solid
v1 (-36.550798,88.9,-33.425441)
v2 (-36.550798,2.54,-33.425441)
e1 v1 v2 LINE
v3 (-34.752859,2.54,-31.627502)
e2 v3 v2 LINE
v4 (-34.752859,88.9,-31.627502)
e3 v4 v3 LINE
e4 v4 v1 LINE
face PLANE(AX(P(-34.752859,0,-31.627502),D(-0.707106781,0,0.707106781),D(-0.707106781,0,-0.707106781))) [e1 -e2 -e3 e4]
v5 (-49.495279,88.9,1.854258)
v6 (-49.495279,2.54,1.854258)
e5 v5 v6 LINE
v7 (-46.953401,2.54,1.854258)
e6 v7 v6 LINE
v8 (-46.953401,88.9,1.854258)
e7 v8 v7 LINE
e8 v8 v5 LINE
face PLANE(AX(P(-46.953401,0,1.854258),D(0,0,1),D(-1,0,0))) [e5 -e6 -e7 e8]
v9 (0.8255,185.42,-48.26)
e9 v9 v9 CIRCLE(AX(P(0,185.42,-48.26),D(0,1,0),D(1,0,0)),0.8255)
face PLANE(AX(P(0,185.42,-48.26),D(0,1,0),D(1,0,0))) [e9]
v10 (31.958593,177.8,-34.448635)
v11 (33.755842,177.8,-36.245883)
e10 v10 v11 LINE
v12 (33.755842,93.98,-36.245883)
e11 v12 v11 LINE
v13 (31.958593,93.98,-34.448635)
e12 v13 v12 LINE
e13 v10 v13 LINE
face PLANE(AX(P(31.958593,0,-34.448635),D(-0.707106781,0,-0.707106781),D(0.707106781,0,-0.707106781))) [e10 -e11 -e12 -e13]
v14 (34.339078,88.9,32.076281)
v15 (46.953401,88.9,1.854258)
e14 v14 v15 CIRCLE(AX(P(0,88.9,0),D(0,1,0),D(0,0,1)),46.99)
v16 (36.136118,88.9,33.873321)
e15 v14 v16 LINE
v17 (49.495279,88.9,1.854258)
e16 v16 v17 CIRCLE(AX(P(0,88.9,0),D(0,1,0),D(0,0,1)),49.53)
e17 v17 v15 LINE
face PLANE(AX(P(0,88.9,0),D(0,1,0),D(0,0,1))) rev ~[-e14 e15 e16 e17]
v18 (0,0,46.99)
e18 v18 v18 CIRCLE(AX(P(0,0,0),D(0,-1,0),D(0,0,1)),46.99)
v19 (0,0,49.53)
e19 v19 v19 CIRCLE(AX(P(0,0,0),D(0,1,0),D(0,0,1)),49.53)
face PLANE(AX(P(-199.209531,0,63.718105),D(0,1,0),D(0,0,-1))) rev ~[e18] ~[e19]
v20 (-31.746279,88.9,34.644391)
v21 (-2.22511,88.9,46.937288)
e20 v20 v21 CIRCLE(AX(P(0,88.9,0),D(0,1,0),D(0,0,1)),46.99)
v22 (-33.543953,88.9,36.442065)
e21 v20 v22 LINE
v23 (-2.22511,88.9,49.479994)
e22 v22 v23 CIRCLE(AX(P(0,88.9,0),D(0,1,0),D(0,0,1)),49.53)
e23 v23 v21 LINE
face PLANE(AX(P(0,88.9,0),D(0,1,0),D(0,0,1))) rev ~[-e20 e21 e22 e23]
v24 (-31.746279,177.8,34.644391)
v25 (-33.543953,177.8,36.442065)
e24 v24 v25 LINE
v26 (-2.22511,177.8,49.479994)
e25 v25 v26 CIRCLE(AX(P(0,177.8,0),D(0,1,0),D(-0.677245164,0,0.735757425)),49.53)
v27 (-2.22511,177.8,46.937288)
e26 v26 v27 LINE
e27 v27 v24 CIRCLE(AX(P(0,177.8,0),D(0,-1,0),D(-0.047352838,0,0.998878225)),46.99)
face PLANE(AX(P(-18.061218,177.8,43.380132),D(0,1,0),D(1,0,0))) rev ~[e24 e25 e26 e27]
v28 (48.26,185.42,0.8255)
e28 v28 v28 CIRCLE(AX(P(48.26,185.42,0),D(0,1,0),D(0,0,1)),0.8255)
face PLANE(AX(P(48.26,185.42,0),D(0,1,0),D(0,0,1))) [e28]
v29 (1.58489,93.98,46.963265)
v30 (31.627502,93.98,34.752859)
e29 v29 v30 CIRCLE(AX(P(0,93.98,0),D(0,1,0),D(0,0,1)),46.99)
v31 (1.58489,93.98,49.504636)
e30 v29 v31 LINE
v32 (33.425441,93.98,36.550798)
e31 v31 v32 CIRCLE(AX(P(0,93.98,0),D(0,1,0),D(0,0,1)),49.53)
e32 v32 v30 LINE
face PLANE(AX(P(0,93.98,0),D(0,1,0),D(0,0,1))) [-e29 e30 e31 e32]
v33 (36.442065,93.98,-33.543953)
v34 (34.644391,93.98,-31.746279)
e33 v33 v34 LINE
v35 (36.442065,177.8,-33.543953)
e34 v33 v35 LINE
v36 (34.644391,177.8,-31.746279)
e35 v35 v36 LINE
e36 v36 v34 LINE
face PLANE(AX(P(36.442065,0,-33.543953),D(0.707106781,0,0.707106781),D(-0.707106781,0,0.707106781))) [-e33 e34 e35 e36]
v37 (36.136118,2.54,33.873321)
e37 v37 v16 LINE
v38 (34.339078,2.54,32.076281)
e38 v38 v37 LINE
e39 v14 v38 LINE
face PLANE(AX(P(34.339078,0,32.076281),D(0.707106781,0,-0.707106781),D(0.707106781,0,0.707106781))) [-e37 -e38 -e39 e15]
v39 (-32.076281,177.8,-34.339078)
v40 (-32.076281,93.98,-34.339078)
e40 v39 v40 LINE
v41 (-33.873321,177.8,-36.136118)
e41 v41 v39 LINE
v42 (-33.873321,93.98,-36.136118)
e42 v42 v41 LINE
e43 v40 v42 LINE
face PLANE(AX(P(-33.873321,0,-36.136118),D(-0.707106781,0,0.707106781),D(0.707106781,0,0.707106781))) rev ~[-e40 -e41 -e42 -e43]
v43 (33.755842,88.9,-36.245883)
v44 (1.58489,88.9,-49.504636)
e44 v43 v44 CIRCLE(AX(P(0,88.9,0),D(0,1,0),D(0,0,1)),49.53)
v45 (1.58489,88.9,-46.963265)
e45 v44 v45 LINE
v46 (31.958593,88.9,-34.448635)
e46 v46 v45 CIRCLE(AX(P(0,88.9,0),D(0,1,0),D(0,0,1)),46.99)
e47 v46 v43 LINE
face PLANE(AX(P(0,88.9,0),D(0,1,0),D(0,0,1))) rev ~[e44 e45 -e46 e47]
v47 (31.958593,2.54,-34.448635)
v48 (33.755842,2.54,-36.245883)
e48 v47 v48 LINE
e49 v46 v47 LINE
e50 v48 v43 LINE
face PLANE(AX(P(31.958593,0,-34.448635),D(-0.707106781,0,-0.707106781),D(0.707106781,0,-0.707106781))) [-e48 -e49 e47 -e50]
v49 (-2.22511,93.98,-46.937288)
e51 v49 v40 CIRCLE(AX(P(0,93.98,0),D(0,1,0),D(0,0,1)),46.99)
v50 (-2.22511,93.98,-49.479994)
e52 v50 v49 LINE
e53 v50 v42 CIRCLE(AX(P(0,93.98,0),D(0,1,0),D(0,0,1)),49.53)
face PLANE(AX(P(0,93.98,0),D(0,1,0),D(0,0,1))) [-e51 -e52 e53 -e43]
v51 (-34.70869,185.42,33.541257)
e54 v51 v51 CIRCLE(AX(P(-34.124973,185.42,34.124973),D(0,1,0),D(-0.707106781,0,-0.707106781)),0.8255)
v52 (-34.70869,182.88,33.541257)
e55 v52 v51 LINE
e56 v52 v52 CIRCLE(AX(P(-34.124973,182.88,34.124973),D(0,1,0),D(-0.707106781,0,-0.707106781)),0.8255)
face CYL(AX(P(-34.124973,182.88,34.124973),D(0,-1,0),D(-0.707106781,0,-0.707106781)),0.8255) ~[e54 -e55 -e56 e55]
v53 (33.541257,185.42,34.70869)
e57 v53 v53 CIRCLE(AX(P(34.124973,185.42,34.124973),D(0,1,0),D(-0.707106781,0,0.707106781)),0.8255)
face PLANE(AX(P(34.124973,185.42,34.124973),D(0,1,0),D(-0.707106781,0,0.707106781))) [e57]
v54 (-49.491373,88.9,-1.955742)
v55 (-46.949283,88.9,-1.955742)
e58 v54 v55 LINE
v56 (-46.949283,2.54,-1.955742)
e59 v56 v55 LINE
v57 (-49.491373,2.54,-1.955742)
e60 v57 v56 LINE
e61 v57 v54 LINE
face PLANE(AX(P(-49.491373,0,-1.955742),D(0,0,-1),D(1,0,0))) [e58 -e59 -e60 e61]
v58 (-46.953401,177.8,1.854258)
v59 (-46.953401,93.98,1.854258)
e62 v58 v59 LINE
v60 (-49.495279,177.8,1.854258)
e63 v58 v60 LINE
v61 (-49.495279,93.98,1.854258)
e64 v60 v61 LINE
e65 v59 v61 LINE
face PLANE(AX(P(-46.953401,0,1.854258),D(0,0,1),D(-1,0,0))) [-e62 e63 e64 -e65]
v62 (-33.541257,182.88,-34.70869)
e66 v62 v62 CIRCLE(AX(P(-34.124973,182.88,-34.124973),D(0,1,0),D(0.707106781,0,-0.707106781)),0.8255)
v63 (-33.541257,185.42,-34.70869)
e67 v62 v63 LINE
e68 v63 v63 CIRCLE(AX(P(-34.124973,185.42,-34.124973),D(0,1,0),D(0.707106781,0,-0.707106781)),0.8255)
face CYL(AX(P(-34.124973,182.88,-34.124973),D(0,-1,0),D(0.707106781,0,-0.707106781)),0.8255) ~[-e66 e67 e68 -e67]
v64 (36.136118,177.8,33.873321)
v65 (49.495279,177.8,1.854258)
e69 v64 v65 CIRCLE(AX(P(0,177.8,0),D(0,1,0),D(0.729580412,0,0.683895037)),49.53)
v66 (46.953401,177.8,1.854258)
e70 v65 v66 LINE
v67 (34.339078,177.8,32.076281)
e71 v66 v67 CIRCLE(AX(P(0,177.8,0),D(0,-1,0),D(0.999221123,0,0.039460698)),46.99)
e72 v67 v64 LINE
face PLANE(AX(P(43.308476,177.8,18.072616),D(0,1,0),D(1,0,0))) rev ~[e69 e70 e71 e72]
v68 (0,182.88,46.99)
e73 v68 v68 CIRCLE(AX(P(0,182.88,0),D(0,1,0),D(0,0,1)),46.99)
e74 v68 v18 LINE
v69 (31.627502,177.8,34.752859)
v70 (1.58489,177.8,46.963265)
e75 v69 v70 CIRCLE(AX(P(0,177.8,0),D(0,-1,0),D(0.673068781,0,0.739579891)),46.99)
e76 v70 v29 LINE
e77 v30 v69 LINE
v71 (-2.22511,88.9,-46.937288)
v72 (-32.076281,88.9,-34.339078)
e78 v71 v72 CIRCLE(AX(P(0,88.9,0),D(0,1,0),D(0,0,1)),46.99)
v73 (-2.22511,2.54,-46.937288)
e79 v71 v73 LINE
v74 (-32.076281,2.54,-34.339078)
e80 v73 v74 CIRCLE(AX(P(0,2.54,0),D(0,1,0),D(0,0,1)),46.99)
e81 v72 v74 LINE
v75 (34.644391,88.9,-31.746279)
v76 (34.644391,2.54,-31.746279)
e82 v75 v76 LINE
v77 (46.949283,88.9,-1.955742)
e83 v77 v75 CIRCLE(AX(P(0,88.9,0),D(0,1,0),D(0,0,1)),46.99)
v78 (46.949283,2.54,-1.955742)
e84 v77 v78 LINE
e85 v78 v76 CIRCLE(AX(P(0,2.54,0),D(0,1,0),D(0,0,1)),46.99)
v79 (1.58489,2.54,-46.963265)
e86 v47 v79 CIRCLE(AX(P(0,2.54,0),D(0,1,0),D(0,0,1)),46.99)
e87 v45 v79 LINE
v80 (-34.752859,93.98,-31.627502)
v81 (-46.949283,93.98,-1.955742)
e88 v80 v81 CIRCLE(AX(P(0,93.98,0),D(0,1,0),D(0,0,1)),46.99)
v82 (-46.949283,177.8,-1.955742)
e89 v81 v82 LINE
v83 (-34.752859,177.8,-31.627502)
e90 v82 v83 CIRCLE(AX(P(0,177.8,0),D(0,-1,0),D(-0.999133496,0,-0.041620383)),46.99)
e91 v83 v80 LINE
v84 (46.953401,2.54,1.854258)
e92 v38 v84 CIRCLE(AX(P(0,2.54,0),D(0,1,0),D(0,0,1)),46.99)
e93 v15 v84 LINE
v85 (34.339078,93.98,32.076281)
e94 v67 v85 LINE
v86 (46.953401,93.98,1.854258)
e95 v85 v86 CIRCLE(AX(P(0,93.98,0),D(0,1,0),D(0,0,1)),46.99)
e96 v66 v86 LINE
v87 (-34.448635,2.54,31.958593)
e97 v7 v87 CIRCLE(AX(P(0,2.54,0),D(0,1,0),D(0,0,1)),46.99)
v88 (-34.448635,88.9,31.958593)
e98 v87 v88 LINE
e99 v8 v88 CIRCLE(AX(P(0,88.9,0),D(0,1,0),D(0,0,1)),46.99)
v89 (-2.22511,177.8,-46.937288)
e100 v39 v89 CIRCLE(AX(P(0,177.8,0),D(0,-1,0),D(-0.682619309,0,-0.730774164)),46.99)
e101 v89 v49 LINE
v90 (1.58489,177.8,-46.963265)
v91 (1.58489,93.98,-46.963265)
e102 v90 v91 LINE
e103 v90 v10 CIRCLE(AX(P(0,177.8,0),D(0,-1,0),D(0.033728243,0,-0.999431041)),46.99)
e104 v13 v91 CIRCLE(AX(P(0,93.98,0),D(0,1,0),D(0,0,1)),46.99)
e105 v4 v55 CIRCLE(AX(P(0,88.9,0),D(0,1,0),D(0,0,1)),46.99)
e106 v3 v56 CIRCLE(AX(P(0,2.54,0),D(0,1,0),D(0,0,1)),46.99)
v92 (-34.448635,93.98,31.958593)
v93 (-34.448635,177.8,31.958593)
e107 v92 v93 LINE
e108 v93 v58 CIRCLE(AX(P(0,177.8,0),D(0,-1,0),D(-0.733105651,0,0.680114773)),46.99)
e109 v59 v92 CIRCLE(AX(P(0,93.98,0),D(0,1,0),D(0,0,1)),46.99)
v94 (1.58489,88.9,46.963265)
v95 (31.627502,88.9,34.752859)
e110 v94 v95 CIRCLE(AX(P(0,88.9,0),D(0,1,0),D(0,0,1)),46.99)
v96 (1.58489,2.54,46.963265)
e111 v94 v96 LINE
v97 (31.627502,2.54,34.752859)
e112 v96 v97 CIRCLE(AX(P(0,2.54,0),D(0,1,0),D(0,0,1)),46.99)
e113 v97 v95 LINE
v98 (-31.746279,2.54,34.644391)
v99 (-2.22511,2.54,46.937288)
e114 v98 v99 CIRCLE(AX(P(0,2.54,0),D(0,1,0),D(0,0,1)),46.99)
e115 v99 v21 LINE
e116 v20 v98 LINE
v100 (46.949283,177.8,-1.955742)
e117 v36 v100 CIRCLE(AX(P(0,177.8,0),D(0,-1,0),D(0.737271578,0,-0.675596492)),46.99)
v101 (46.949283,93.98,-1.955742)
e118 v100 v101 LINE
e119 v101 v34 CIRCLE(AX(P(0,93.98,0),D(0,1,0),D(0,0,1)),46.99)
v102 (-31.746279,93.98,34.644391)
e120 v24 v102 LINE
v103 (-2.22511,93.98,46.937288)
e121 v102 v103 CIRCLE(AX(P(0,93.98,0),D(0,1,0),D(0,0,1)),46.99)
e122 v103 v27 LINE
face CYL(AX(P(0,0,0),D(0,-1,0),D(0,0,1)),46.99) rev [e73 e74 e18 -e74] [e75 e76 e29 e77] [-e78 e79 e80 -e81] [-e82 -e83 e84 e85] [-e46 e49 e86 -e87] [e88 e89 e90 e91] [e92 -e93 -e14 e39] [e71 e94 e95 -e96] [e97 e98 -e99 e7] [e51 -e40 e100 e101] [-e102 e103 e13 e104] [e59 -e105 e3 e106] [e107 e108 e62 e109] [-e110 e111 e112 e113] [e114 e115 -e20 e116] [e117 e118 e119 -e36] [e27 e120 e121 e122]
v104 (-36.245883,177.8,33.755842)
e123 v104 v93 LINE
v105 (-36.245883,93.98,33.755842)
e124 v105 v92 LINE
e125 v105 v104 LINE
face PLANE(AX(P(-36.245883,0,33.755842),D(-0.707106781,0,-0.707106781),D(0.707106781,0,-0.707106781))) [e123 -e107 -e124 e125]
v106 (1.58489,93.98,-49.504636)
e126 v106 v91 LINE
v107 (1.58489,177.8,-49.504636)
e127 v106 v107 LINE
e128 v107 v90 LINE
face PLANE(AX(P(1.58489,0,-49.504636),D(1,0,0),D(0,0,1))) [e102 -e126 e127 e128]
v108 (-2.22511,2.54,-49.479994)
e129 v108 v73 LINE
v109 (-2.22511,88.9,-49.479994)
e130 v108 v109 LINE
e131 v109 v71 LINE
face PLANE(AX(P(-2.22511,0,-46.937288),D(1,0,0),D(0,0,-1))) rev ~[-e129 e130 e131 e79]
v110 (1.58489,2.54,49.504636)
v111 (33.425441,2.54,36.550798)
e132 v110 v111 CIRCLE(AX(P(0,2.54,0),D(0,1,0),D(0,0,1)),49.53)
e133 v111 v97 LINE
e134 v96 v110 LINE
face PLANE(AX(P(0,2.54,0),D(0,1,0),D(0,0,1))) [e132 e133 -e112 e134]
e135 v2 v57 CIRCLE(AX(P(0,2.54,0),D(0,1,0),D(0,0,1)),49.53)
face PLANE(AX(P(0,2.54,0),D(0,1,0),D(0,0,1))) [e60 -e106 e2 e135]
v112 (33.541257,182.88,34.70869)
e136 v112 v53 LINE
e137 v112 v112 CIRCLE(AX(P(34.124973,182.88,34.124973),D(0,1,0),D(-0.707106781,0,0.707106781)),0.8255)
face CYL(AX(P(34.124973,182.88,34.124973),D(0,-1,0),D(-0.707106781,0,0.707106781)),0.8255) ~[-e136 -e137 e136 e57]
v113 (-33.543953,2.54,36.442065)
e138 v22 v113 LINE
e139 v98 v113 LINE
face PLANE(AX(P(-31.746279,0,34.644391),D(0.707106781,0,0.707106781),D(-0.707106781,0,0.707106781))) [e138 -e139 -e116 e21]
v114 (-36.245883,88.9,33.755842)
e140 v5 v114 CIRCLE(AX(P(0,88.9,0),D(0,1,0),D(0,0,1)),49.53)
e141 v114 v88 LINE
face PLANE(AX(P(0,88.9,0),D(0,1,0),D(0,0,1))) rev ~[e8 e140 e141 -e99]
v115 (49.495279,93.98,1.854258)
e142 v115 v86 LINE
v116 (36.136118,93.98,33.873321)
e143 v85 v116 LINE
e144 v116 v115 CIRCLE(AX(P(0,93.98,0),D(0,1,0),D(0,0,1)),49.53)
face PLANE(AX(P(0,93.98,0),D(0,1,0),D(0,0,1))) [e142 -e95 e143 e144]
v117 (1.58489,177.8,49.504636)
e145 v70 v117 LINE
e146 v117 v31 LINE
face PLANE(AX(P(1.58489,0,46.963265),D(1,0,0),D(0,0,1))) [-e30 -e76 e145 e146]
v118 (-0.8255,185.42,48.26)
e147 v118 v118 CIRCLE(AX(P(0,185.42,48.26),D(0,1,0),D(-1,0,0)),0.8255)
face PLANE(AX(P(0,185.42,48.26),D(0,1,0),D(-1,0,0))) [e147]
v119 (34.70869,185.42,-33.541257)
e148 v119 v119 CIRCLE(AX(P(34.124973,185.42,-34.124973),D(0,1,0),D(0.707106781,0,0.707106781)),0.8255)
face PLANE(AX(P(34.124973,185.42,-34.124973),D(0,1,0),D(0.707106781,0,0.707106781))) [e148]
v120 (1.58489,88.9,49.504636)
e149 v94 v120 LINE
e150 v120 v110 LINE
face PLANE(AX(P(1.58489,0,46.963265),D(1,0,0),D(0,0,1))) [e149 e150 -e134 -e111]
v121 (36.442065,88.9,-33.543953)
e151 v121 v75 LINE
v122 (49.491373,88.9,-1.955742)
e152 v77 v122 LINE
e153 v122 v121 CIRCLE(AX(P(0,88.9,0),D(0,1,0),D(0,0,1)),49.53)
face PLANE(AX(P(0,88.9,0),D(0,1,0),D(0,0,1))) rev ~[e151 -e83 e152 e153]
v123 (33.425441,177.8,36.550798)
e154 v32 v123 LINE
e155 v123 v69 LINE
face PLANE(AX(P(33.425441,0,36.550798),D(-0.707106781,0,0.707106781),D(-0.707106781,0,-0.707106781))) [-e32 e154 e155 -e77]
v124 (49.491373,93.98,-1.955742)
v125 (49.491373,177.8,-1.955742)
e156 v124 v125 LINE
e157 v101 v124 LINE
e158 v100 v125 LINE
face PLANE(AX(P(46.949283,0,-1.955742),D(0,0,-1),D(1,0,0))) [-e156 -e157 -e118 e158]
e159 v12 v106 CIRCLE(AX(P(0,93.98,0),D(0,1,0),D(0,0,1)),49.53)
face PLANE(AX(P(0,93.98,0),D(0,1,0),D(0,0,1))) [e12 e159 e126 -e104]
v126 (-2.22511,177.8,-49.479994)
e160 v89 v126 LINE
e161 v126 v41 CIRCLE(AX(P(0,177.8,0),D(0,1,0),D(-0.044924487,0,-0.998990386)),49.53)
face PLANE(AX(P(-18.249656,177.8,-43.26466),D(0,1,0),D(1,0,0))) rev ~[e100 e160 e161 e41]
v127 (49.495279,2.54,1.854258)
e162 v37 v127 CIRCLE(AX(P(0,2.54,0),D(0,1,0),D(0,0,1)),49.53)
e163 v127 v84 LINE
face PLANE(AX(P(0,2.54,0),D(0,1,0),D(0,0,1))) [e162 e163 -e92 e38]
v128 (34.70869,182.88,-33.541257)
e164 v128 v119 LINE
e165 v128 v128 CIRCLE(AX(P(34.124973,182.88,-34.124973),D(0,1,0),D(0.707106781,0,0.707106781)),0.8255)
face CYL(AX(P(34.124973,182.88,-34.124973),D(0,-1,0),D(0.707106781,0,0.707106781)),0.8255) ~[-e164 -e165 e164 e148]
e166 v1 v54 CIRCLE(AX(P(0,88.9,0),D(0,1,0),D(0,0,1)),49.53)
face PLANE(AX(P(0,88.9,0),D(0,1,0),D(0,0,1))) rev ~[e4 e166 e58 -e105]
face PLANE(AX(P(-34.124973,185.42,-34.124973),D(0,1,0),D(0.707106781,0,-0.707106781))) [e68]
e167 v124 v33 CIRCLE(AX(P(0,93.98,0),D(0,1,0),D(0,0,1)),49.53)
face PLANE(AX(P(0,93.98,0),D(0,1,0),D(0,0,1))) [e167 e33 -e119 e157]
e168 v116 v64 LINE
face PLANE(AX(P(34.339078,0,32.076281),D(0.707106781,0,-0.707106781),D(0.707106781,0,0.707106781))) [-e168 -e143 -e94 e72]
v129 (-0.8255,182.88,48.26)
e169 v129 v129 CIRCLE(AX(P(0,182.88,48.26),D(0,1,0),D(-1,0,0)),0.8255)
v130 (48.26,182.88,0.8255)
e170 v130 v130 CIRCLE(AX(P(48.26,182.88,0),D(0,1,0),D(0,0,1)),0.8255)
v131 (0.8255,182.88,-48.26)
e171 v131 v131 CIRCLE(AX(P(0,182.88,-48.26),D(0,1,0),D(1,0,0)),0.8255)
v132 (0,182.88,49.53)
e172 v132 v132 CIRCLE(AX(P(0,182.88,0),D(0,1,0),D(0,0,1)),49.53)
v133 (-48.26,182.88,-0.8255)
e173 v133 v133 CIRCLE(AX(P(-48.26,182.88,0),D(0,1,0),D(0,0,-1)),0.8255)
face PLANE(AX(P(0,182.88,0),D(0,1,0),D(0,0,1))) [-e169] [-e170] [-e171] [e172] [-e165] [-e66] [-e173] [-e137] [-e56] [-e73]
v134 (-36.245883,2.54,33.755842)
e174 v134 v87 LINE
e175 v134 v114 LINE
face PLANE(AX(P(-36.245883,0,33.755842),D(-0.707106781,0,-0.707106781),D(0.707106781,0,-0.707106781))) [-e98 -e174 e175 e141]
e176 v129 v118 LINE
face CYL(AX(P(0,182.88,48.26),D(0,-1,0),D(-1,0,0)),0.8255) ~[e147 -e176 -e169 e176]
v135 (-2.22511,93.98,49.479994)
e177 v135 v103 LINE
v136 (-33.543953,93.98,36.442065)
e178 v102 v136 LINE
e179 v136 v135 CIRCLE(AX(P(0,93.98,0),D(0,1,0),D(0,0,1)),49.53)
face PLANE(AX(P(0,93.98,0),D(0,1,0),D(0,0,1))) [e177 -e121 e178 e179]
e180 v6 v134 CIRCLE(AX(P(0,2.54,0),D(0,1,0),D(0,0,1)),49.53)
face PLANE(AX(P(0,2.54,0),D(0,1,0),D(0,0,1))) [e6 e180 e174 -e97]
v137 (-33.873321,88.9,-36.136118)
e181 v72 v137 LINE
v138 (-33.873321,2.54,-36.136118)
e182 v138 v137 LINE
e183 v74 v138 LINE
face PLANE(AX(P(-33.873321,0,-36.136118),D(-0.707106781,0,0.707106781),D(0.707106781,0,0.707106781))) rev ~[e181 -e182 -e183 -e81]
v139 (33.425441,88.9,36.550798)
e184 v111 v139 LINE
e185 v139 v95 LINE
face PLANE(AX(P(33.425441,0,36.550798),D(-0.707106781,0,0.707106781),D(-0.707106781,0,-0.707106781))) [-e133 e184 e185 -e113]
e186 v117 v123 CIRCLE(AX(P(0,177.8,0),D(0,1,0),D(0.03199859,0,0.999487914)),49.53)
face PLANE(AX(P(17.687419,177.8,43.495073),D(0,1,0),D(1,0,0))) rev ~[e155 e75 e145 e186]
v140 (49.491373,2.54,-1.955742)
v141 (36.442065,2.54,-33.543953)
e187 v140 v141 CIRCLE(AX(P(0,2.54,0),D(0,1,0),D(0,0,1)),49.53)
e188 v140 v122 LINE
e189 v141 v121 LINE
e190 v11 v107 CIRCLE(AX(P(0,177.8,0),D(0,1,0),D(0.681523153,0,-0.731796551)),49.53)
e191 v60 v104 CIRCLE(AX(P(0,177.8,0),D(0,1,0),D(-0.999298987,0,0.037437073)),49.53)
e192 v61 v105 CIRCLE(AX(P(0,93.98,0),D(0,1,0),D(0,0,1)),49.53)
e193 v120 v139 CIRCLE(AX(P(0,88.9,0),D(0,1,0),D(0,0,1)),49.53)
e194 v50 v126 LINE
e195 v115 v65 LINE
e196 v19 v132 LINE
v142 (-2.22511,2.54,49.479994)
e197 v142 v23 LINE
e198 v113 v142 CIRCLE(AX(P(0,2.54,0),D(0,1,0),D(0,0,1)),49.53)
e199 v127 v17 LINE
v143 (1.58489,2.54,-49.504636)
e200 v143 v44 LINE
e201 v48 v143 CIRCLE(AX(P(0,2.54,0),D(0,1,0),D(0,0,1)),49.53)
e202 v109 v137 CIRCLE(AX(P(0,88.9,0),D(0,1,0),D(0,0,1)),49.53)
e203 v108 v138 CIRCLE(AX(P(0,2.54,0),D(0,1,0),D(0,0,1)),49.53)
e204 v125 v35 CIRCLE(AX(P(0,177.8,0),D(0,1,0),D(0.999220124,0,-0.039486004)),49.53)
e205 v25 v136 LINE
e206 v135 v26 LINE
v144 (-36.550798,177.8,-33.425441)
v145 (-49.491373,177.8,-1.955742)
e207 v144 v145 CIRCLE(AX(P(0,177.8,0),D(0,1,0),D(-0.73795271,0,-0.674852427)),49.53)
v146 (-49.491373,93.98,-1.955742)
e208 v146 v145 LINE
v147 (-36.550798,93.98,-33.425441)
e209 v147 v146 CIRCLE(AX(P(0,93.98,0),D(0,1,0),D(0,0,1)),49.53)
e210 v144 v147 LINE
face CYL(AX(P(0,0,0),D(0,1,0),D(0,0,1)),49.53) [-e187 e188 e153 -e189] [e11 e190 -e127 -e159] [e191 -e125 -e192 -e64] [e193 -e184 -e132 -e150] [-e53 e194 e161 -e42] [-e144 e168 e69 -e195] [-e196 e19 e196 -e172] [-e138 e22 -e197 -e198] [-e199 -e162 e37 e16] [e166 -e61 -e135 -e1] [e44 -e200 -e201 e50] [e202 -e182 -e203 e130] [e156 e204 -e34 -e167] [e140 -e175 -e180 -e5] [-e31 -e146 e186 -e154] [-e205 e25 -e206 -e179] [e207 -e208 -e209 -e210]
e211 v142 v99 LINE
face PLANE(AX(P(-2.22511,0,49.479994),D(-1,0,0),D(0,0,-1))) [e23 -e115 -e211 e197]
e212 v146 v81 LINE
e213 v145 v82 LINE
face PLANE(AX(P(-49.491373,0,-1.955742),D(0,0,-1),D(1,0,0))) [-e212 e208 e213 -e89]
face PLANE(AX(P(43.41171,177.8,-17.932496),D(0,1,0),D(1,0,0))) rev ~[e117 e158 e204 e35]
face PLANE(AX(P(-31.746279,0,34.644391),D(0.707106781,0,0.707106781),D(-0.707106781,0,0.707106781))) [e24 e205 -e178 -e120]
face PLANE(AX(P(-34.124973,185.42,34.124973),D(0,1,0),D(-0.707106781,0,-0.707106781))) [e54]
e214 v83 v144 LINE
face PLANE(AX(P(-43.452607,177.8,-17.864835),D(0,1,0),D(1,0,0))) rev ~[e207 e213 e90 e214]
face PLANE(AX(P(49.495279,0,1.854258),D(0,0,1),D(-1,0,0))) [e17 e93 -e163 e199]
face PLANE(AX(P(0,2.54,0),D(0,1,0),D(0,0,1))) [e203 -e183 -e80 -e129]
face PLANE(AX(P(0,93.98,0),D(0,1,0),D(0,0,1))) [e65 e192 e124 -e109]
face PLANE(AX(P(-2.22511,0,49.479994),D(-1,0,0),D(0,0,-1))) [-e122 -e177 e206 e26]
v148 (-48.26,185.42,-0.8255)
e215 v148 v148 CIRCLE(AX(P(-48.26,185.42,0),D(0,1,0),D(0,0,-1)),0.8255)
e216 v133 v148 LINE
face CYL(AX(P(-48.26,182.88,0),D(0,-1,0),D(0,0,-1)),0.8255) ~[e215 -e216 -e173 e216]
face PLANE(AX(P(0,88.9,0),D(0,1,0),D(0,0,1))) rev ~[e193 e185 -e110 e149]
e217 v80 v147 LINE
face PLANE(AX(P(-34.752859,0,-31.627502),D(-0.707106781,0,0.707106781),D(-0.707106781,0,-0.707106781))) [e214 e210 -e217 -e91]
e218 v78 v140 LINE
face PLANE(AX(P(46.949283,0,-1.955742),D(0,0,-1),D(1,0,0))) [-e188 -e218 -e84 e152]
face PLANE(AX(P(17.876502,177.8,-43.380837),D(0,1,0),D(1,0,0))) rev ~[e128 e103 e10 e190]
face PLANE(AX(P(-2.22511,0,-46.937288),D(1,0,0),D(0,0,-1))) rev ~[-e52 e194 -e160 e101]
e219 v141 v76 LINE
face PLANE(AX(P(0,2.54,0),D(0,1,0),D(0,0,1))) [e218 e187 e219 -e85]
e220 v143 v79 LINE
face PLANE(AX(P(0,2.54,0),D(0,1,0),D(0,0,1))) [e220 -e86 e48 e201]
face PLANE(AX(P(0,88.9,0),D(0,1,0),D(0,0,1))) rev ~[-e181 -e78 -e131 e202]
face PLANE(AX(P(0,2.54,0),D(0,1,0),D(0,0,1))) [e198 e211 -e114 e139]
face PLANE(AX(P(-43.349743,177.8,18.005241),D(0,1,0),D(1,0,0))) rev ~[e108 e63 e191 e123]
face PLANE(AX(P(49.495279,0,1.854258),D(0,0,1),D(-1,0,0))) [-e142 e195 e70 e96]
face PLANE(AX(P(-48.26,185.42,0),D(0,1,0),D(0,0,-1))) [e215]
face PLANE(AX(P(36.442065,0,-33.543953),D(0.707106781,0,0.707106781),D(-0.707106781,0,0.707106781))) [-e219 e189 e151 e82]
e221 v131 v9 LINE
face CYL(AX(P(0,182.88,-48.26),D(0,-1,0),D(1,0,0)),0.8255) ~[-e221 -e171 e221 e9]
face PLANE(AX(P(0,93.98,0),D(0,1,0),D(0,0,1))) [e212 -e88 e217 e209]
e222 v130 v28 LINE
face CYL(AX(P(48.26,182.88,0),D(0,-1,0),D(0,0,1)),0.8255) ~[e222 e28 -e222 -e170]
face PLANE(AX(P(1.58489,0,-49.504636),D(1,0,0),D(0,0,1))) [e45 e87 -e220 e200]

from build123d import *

# Parameters (mm, degrees)
SKETCH1_R               = 49.53
SKETCH1_R_2             = 46.99
BOSS_EXTRUDE1_DEPTH     = 182.88
CUT_EXTRUDE1_DEPTH      = 177.8
SKETCH3_R               = 49.53
SKETCH3_R_2             = 46.99
BOSS_EXTRUDE2_DEPTH     = 2.54
SKETCH4_R               = 49.53
SKETCH4_R_2             = 46.99
BOSS_EXTRUDE3_DEPTH     = 2.54
BOSS_EXTRUDE4_START     = -5.08
SKETCH5_R               = 49.53
BOSS_EXTRUDE4_DEPTH     = 5.08
SKETCH6_W               = 50.419
SKETCH6_H               = 4.699
BOSS_EXTRUDE5_DEPTH     = 2.54
SKETCH7_R               = 0.8255
BOSS_EXTRUDE6_DEPTH     = 2.54
CIRPATTERN2_COUNT       = 8
CUT_EXTRUDE2_DEPTH      = 199.209531052
CUT_EXTRUDE2_DEPTH_BACK = 199.209531052
SKETCH8_W               = 132.398464635
SKETCH8_H               = 191.049097361


with BuildPart() as part:
    # Sketch1 → Boss-Extrude1 (new, symmetric)
    with BuildSketch(Plane(origin=(0, 0, 0), x_dir=(1, 0, 0), z_dir=(0, 1, 0))):
        with Locations(Location((0, 0, 0), (0, 0, 270))):
            Circle(SKETCH1_R)
        with Locations(Location((0, 0, 0), (0, 0, 270))):
            Circle(SKETCH1_R_2, mode=Mode.SUBTRACT)
    extrude(amount=BOSS_EXTRUDE1_DEPTH, both=True)

    # Sketch2 → Cut-Extrude1 (cut, symmetric)
    with BuildSketch(Plane(origin=(0, 0, 0), x_dir=(1, 0, 0), z_dir=(0, 1, 0))):
        with BuildLine():
            Line((34.339077963, -32.07628134), (36.13611782, -33.873321197))
            ThreePointArc((36.13611782, -33.873321197), (45.710930003, -19.071753413), (49.49527883, -1.854258207))
            Line((49.49527883, -1.854258207), (46.953400585, -1.854258207))
            ThreePointArc((46.953400585, -1.854258207), (43.364264524, -18.099742051), (34.339077963, -32.07628134))
        make_face()
        with BuildLine():
            ThreePointArc((1.584890151, -49.504636381), (18.664975227, -45.878530924), (33.425440685, -36.550797734))
            Line((33.425440685, -36.550797734), (31.627502039, -34.752859088))
            ThreePointArc((31.627502039, -34.752859088), (17.692915235, -43.531837205), (1.584890151, -46.963264614))
            Line((1.584890151, -46.963264614), (1.584890151, -49.504636381))
        make_face()
        with BuildLine():
            ThreePointArc((-33.543952964, -36.442065248), (-19.03558139, -45.726005086), (-2.225109849, -49.479993797))
            Line((-2.225109849, -49.479993797), (-2.225109849, -46.937287801))
            ThreePointArc((-2.225109849, -46.937287801), (-18.063572268, -43.379343666), (-31.746279167, -34.644391451))
            Line((-31.746279167, -34.644391451), (-33.543952964, -36.442065248))
        make_face()
        with BuildLine():
            Line((46.949282998, 1.955741793), (49.491372723, 1.955741793))
            ThreePointArc((49.491372723, 1.955741793), (45.777644234, 18.911059948), (36.442065248, 33.543952964))
            Line((36.442065248, 33.543952964), (34.644391451, 31.746279167))
            ThreePointArc((34.644391451, 31.746279167), (43.430990742, 17.93903964), (46.949282998, 1.955741793))
        make_face()
        with BuildLine():
            ThreePointArc((-49.49527883, -1.854258207), (-45.741824116, -18.997537381), (-36.245883162, -33.755841773))
            Line((-36.245883162, -33.755841773), (-34.448634556, -31.958593167))
            ThreePointArc((-34.448634556, -31.958593167), (-43.39516767, -18.025524205), (-46.953400585, -1.854258207))
            Line((-46.953400585, -1.854258207), (-49.49527883, -1.854258207))
        make_face()
        with BuildLine():
            Line((31.958593167, 34.448634556), (33.755841773, 36.245883162))
            ThreePointArc((33.755841773, 36.245883162), (18.873008967, 45.79334485), (1.584890151, 49.504636381))
            Line((1.584890151, 49.504636381), (1.584890151, 46.963264614))
            ThreePointArc((1.584890151, 46.963264614), (17.900986276, 43.446689061), (31.958593167, 34.448634556))
        make_face()
        with BuildLine():
            ThreePointArc((-36.550797734, 33.425440685), (-45.80828813, 18.836709868), (-49.491372723, 1.955741793))
            Line((-49.491372723, 1.955741793), (-46.949282998, 1.955741793))
            ThreePointArc((-46.949282998, 1.955741793), (-43.461630715, 17.864678995), (-34.752859088, 31.627502039))
            Line((-34.752859088, 31.627502039), (-36.550797734, 33.425440685))
        make_face()
        with BuildLine():
            Line((-2.225109849, 46.937287801), (-2.225109849, 49.479993797))
            ThreePointArc((-2.225109849, 49.479993797), (-19.242893169, 45.63914945), (-33.873321197, 36.13611782))
            Line((-33.873321197, 36.13611782), (-32.07628134, 34.339077963))
            ThreePointArc((-32.07628134, 34.339077963), (-18.270880717, 43.292436035), (-2.225109849, 46.937287801))
        make_face()
    extrude(amount=CUT_EXTRUDE1_DEPTH, both=True, mode=Mode.SUBTRACT)

    # Sketch3 → Boss-Extrude2 (add, symmetric)
    with BuildSketch(Plane(origin=(0, 91.44, 0), x_dir=(1, 0, 0), z_dir=(0, 1, 0))):
        with Locations(Location((0, 0, 0), (0, 0, 270))):
            Circle(SKETCH3_R)
        with Locations(Location((0, 0, 0), (0, 0, 270))):
            Circle(SKETCH3_R_2, mode=Mode.SUBTRACT)
    boss_extrude2 = extrude(amount=BOSS_EXTRUDE2_DEPTH, both=True)

    # Mirror1: Boss-Extrude2 across plane
    add(boss_extrude2.mirror(Plane.ZX))

    # Sketch4 → Boss-Extrude3 (add, symmetric)
    with BuildSketch(Plane(origin=(0, 0, 0), x_dir=(1, 0, 0), z_dir=(0, 1, 0))):
        with Locations(Location((0, 0, 0), (0, 0, 270))):
            Circle(SKETCH4_R)
        with Locations(Location((0, 0, 0), (0, 0, 270))):
            Circle(SKETCH4_R_2, mode=Mode.SUBTRACT)
    extrude(amount=BOSS_EXTRUDE3_DEPTH, both=True)

    # Sketch5 → Boss-Extrude4 (add)
    with BuildSketch(Plane.XZ.offset(182.88).offset(BOSS_EXTRUDE4_START)):
        with Locations(Location((0, 0, 0), (0, 0, 90))):
            Circle(SKETCH5_R)
    extrude(amount=BOSS_EXTRUDE4_DEPTH)

    # Sketch6 → Boss-Extrude5 (add)
    with BuildSketch(Plane(origin=(0, -177.8, 0), x_dir=(1, 0, 0), z_dir=(0, 1, 0))):
        Rectangle(SKETCH6_W, SKETCH6_H)
    extrude(amount=BOSS_EXTRUDE5_DEPTH)

    # Sketch7 → Boss-Extrude6 (add)
    with BuildSketch(Plane(origin=(0, 182.88, 0), x_dir=(1, 0, 0), z_dir=(0, 1, 0))):
        with Locations(Location((48.26, 0, 0), (0, 0, 270))):
            Circle(SKETCH7_R)
    boss_extrude6 = extrude(amount=BOSS_EXTRUDE6_DEPTH)

    # CirPattern2: Boss-Extrude6 ×8 about axis
    cirpattern2_axis = Axis((0, 0, 0), (0, 1, 0))
    for i in range(1, CIRPATTERN2_COUNT):
        add(boss_extrude6.rotate(cirpattern2_axis, i * 360 / CIRPATTERN2_COUNT))

    # Sketch8 → Cut-Extrude2 (cut, two sides: drawn at the far end of the back side and taken through both)
    with BuildSketch(Plane(origin=(0, 0, 0), x_dir=(0, 0, -1), z_dir=(1, 0, 0)).offset(-CUT_EXTRUDE2_DEPTH_BACK)):
        with Locations((2.481127426, -95.524548681)):
            Rectangle(SKETCH8_W, SKETCH8_H)
    extrude(amount=CUT_EXTRUDE2_DEPTH + CUT_EXTRUDE2_DEPTH_BACK, mode=Mode.SUBTRACT)


solid = part.part
